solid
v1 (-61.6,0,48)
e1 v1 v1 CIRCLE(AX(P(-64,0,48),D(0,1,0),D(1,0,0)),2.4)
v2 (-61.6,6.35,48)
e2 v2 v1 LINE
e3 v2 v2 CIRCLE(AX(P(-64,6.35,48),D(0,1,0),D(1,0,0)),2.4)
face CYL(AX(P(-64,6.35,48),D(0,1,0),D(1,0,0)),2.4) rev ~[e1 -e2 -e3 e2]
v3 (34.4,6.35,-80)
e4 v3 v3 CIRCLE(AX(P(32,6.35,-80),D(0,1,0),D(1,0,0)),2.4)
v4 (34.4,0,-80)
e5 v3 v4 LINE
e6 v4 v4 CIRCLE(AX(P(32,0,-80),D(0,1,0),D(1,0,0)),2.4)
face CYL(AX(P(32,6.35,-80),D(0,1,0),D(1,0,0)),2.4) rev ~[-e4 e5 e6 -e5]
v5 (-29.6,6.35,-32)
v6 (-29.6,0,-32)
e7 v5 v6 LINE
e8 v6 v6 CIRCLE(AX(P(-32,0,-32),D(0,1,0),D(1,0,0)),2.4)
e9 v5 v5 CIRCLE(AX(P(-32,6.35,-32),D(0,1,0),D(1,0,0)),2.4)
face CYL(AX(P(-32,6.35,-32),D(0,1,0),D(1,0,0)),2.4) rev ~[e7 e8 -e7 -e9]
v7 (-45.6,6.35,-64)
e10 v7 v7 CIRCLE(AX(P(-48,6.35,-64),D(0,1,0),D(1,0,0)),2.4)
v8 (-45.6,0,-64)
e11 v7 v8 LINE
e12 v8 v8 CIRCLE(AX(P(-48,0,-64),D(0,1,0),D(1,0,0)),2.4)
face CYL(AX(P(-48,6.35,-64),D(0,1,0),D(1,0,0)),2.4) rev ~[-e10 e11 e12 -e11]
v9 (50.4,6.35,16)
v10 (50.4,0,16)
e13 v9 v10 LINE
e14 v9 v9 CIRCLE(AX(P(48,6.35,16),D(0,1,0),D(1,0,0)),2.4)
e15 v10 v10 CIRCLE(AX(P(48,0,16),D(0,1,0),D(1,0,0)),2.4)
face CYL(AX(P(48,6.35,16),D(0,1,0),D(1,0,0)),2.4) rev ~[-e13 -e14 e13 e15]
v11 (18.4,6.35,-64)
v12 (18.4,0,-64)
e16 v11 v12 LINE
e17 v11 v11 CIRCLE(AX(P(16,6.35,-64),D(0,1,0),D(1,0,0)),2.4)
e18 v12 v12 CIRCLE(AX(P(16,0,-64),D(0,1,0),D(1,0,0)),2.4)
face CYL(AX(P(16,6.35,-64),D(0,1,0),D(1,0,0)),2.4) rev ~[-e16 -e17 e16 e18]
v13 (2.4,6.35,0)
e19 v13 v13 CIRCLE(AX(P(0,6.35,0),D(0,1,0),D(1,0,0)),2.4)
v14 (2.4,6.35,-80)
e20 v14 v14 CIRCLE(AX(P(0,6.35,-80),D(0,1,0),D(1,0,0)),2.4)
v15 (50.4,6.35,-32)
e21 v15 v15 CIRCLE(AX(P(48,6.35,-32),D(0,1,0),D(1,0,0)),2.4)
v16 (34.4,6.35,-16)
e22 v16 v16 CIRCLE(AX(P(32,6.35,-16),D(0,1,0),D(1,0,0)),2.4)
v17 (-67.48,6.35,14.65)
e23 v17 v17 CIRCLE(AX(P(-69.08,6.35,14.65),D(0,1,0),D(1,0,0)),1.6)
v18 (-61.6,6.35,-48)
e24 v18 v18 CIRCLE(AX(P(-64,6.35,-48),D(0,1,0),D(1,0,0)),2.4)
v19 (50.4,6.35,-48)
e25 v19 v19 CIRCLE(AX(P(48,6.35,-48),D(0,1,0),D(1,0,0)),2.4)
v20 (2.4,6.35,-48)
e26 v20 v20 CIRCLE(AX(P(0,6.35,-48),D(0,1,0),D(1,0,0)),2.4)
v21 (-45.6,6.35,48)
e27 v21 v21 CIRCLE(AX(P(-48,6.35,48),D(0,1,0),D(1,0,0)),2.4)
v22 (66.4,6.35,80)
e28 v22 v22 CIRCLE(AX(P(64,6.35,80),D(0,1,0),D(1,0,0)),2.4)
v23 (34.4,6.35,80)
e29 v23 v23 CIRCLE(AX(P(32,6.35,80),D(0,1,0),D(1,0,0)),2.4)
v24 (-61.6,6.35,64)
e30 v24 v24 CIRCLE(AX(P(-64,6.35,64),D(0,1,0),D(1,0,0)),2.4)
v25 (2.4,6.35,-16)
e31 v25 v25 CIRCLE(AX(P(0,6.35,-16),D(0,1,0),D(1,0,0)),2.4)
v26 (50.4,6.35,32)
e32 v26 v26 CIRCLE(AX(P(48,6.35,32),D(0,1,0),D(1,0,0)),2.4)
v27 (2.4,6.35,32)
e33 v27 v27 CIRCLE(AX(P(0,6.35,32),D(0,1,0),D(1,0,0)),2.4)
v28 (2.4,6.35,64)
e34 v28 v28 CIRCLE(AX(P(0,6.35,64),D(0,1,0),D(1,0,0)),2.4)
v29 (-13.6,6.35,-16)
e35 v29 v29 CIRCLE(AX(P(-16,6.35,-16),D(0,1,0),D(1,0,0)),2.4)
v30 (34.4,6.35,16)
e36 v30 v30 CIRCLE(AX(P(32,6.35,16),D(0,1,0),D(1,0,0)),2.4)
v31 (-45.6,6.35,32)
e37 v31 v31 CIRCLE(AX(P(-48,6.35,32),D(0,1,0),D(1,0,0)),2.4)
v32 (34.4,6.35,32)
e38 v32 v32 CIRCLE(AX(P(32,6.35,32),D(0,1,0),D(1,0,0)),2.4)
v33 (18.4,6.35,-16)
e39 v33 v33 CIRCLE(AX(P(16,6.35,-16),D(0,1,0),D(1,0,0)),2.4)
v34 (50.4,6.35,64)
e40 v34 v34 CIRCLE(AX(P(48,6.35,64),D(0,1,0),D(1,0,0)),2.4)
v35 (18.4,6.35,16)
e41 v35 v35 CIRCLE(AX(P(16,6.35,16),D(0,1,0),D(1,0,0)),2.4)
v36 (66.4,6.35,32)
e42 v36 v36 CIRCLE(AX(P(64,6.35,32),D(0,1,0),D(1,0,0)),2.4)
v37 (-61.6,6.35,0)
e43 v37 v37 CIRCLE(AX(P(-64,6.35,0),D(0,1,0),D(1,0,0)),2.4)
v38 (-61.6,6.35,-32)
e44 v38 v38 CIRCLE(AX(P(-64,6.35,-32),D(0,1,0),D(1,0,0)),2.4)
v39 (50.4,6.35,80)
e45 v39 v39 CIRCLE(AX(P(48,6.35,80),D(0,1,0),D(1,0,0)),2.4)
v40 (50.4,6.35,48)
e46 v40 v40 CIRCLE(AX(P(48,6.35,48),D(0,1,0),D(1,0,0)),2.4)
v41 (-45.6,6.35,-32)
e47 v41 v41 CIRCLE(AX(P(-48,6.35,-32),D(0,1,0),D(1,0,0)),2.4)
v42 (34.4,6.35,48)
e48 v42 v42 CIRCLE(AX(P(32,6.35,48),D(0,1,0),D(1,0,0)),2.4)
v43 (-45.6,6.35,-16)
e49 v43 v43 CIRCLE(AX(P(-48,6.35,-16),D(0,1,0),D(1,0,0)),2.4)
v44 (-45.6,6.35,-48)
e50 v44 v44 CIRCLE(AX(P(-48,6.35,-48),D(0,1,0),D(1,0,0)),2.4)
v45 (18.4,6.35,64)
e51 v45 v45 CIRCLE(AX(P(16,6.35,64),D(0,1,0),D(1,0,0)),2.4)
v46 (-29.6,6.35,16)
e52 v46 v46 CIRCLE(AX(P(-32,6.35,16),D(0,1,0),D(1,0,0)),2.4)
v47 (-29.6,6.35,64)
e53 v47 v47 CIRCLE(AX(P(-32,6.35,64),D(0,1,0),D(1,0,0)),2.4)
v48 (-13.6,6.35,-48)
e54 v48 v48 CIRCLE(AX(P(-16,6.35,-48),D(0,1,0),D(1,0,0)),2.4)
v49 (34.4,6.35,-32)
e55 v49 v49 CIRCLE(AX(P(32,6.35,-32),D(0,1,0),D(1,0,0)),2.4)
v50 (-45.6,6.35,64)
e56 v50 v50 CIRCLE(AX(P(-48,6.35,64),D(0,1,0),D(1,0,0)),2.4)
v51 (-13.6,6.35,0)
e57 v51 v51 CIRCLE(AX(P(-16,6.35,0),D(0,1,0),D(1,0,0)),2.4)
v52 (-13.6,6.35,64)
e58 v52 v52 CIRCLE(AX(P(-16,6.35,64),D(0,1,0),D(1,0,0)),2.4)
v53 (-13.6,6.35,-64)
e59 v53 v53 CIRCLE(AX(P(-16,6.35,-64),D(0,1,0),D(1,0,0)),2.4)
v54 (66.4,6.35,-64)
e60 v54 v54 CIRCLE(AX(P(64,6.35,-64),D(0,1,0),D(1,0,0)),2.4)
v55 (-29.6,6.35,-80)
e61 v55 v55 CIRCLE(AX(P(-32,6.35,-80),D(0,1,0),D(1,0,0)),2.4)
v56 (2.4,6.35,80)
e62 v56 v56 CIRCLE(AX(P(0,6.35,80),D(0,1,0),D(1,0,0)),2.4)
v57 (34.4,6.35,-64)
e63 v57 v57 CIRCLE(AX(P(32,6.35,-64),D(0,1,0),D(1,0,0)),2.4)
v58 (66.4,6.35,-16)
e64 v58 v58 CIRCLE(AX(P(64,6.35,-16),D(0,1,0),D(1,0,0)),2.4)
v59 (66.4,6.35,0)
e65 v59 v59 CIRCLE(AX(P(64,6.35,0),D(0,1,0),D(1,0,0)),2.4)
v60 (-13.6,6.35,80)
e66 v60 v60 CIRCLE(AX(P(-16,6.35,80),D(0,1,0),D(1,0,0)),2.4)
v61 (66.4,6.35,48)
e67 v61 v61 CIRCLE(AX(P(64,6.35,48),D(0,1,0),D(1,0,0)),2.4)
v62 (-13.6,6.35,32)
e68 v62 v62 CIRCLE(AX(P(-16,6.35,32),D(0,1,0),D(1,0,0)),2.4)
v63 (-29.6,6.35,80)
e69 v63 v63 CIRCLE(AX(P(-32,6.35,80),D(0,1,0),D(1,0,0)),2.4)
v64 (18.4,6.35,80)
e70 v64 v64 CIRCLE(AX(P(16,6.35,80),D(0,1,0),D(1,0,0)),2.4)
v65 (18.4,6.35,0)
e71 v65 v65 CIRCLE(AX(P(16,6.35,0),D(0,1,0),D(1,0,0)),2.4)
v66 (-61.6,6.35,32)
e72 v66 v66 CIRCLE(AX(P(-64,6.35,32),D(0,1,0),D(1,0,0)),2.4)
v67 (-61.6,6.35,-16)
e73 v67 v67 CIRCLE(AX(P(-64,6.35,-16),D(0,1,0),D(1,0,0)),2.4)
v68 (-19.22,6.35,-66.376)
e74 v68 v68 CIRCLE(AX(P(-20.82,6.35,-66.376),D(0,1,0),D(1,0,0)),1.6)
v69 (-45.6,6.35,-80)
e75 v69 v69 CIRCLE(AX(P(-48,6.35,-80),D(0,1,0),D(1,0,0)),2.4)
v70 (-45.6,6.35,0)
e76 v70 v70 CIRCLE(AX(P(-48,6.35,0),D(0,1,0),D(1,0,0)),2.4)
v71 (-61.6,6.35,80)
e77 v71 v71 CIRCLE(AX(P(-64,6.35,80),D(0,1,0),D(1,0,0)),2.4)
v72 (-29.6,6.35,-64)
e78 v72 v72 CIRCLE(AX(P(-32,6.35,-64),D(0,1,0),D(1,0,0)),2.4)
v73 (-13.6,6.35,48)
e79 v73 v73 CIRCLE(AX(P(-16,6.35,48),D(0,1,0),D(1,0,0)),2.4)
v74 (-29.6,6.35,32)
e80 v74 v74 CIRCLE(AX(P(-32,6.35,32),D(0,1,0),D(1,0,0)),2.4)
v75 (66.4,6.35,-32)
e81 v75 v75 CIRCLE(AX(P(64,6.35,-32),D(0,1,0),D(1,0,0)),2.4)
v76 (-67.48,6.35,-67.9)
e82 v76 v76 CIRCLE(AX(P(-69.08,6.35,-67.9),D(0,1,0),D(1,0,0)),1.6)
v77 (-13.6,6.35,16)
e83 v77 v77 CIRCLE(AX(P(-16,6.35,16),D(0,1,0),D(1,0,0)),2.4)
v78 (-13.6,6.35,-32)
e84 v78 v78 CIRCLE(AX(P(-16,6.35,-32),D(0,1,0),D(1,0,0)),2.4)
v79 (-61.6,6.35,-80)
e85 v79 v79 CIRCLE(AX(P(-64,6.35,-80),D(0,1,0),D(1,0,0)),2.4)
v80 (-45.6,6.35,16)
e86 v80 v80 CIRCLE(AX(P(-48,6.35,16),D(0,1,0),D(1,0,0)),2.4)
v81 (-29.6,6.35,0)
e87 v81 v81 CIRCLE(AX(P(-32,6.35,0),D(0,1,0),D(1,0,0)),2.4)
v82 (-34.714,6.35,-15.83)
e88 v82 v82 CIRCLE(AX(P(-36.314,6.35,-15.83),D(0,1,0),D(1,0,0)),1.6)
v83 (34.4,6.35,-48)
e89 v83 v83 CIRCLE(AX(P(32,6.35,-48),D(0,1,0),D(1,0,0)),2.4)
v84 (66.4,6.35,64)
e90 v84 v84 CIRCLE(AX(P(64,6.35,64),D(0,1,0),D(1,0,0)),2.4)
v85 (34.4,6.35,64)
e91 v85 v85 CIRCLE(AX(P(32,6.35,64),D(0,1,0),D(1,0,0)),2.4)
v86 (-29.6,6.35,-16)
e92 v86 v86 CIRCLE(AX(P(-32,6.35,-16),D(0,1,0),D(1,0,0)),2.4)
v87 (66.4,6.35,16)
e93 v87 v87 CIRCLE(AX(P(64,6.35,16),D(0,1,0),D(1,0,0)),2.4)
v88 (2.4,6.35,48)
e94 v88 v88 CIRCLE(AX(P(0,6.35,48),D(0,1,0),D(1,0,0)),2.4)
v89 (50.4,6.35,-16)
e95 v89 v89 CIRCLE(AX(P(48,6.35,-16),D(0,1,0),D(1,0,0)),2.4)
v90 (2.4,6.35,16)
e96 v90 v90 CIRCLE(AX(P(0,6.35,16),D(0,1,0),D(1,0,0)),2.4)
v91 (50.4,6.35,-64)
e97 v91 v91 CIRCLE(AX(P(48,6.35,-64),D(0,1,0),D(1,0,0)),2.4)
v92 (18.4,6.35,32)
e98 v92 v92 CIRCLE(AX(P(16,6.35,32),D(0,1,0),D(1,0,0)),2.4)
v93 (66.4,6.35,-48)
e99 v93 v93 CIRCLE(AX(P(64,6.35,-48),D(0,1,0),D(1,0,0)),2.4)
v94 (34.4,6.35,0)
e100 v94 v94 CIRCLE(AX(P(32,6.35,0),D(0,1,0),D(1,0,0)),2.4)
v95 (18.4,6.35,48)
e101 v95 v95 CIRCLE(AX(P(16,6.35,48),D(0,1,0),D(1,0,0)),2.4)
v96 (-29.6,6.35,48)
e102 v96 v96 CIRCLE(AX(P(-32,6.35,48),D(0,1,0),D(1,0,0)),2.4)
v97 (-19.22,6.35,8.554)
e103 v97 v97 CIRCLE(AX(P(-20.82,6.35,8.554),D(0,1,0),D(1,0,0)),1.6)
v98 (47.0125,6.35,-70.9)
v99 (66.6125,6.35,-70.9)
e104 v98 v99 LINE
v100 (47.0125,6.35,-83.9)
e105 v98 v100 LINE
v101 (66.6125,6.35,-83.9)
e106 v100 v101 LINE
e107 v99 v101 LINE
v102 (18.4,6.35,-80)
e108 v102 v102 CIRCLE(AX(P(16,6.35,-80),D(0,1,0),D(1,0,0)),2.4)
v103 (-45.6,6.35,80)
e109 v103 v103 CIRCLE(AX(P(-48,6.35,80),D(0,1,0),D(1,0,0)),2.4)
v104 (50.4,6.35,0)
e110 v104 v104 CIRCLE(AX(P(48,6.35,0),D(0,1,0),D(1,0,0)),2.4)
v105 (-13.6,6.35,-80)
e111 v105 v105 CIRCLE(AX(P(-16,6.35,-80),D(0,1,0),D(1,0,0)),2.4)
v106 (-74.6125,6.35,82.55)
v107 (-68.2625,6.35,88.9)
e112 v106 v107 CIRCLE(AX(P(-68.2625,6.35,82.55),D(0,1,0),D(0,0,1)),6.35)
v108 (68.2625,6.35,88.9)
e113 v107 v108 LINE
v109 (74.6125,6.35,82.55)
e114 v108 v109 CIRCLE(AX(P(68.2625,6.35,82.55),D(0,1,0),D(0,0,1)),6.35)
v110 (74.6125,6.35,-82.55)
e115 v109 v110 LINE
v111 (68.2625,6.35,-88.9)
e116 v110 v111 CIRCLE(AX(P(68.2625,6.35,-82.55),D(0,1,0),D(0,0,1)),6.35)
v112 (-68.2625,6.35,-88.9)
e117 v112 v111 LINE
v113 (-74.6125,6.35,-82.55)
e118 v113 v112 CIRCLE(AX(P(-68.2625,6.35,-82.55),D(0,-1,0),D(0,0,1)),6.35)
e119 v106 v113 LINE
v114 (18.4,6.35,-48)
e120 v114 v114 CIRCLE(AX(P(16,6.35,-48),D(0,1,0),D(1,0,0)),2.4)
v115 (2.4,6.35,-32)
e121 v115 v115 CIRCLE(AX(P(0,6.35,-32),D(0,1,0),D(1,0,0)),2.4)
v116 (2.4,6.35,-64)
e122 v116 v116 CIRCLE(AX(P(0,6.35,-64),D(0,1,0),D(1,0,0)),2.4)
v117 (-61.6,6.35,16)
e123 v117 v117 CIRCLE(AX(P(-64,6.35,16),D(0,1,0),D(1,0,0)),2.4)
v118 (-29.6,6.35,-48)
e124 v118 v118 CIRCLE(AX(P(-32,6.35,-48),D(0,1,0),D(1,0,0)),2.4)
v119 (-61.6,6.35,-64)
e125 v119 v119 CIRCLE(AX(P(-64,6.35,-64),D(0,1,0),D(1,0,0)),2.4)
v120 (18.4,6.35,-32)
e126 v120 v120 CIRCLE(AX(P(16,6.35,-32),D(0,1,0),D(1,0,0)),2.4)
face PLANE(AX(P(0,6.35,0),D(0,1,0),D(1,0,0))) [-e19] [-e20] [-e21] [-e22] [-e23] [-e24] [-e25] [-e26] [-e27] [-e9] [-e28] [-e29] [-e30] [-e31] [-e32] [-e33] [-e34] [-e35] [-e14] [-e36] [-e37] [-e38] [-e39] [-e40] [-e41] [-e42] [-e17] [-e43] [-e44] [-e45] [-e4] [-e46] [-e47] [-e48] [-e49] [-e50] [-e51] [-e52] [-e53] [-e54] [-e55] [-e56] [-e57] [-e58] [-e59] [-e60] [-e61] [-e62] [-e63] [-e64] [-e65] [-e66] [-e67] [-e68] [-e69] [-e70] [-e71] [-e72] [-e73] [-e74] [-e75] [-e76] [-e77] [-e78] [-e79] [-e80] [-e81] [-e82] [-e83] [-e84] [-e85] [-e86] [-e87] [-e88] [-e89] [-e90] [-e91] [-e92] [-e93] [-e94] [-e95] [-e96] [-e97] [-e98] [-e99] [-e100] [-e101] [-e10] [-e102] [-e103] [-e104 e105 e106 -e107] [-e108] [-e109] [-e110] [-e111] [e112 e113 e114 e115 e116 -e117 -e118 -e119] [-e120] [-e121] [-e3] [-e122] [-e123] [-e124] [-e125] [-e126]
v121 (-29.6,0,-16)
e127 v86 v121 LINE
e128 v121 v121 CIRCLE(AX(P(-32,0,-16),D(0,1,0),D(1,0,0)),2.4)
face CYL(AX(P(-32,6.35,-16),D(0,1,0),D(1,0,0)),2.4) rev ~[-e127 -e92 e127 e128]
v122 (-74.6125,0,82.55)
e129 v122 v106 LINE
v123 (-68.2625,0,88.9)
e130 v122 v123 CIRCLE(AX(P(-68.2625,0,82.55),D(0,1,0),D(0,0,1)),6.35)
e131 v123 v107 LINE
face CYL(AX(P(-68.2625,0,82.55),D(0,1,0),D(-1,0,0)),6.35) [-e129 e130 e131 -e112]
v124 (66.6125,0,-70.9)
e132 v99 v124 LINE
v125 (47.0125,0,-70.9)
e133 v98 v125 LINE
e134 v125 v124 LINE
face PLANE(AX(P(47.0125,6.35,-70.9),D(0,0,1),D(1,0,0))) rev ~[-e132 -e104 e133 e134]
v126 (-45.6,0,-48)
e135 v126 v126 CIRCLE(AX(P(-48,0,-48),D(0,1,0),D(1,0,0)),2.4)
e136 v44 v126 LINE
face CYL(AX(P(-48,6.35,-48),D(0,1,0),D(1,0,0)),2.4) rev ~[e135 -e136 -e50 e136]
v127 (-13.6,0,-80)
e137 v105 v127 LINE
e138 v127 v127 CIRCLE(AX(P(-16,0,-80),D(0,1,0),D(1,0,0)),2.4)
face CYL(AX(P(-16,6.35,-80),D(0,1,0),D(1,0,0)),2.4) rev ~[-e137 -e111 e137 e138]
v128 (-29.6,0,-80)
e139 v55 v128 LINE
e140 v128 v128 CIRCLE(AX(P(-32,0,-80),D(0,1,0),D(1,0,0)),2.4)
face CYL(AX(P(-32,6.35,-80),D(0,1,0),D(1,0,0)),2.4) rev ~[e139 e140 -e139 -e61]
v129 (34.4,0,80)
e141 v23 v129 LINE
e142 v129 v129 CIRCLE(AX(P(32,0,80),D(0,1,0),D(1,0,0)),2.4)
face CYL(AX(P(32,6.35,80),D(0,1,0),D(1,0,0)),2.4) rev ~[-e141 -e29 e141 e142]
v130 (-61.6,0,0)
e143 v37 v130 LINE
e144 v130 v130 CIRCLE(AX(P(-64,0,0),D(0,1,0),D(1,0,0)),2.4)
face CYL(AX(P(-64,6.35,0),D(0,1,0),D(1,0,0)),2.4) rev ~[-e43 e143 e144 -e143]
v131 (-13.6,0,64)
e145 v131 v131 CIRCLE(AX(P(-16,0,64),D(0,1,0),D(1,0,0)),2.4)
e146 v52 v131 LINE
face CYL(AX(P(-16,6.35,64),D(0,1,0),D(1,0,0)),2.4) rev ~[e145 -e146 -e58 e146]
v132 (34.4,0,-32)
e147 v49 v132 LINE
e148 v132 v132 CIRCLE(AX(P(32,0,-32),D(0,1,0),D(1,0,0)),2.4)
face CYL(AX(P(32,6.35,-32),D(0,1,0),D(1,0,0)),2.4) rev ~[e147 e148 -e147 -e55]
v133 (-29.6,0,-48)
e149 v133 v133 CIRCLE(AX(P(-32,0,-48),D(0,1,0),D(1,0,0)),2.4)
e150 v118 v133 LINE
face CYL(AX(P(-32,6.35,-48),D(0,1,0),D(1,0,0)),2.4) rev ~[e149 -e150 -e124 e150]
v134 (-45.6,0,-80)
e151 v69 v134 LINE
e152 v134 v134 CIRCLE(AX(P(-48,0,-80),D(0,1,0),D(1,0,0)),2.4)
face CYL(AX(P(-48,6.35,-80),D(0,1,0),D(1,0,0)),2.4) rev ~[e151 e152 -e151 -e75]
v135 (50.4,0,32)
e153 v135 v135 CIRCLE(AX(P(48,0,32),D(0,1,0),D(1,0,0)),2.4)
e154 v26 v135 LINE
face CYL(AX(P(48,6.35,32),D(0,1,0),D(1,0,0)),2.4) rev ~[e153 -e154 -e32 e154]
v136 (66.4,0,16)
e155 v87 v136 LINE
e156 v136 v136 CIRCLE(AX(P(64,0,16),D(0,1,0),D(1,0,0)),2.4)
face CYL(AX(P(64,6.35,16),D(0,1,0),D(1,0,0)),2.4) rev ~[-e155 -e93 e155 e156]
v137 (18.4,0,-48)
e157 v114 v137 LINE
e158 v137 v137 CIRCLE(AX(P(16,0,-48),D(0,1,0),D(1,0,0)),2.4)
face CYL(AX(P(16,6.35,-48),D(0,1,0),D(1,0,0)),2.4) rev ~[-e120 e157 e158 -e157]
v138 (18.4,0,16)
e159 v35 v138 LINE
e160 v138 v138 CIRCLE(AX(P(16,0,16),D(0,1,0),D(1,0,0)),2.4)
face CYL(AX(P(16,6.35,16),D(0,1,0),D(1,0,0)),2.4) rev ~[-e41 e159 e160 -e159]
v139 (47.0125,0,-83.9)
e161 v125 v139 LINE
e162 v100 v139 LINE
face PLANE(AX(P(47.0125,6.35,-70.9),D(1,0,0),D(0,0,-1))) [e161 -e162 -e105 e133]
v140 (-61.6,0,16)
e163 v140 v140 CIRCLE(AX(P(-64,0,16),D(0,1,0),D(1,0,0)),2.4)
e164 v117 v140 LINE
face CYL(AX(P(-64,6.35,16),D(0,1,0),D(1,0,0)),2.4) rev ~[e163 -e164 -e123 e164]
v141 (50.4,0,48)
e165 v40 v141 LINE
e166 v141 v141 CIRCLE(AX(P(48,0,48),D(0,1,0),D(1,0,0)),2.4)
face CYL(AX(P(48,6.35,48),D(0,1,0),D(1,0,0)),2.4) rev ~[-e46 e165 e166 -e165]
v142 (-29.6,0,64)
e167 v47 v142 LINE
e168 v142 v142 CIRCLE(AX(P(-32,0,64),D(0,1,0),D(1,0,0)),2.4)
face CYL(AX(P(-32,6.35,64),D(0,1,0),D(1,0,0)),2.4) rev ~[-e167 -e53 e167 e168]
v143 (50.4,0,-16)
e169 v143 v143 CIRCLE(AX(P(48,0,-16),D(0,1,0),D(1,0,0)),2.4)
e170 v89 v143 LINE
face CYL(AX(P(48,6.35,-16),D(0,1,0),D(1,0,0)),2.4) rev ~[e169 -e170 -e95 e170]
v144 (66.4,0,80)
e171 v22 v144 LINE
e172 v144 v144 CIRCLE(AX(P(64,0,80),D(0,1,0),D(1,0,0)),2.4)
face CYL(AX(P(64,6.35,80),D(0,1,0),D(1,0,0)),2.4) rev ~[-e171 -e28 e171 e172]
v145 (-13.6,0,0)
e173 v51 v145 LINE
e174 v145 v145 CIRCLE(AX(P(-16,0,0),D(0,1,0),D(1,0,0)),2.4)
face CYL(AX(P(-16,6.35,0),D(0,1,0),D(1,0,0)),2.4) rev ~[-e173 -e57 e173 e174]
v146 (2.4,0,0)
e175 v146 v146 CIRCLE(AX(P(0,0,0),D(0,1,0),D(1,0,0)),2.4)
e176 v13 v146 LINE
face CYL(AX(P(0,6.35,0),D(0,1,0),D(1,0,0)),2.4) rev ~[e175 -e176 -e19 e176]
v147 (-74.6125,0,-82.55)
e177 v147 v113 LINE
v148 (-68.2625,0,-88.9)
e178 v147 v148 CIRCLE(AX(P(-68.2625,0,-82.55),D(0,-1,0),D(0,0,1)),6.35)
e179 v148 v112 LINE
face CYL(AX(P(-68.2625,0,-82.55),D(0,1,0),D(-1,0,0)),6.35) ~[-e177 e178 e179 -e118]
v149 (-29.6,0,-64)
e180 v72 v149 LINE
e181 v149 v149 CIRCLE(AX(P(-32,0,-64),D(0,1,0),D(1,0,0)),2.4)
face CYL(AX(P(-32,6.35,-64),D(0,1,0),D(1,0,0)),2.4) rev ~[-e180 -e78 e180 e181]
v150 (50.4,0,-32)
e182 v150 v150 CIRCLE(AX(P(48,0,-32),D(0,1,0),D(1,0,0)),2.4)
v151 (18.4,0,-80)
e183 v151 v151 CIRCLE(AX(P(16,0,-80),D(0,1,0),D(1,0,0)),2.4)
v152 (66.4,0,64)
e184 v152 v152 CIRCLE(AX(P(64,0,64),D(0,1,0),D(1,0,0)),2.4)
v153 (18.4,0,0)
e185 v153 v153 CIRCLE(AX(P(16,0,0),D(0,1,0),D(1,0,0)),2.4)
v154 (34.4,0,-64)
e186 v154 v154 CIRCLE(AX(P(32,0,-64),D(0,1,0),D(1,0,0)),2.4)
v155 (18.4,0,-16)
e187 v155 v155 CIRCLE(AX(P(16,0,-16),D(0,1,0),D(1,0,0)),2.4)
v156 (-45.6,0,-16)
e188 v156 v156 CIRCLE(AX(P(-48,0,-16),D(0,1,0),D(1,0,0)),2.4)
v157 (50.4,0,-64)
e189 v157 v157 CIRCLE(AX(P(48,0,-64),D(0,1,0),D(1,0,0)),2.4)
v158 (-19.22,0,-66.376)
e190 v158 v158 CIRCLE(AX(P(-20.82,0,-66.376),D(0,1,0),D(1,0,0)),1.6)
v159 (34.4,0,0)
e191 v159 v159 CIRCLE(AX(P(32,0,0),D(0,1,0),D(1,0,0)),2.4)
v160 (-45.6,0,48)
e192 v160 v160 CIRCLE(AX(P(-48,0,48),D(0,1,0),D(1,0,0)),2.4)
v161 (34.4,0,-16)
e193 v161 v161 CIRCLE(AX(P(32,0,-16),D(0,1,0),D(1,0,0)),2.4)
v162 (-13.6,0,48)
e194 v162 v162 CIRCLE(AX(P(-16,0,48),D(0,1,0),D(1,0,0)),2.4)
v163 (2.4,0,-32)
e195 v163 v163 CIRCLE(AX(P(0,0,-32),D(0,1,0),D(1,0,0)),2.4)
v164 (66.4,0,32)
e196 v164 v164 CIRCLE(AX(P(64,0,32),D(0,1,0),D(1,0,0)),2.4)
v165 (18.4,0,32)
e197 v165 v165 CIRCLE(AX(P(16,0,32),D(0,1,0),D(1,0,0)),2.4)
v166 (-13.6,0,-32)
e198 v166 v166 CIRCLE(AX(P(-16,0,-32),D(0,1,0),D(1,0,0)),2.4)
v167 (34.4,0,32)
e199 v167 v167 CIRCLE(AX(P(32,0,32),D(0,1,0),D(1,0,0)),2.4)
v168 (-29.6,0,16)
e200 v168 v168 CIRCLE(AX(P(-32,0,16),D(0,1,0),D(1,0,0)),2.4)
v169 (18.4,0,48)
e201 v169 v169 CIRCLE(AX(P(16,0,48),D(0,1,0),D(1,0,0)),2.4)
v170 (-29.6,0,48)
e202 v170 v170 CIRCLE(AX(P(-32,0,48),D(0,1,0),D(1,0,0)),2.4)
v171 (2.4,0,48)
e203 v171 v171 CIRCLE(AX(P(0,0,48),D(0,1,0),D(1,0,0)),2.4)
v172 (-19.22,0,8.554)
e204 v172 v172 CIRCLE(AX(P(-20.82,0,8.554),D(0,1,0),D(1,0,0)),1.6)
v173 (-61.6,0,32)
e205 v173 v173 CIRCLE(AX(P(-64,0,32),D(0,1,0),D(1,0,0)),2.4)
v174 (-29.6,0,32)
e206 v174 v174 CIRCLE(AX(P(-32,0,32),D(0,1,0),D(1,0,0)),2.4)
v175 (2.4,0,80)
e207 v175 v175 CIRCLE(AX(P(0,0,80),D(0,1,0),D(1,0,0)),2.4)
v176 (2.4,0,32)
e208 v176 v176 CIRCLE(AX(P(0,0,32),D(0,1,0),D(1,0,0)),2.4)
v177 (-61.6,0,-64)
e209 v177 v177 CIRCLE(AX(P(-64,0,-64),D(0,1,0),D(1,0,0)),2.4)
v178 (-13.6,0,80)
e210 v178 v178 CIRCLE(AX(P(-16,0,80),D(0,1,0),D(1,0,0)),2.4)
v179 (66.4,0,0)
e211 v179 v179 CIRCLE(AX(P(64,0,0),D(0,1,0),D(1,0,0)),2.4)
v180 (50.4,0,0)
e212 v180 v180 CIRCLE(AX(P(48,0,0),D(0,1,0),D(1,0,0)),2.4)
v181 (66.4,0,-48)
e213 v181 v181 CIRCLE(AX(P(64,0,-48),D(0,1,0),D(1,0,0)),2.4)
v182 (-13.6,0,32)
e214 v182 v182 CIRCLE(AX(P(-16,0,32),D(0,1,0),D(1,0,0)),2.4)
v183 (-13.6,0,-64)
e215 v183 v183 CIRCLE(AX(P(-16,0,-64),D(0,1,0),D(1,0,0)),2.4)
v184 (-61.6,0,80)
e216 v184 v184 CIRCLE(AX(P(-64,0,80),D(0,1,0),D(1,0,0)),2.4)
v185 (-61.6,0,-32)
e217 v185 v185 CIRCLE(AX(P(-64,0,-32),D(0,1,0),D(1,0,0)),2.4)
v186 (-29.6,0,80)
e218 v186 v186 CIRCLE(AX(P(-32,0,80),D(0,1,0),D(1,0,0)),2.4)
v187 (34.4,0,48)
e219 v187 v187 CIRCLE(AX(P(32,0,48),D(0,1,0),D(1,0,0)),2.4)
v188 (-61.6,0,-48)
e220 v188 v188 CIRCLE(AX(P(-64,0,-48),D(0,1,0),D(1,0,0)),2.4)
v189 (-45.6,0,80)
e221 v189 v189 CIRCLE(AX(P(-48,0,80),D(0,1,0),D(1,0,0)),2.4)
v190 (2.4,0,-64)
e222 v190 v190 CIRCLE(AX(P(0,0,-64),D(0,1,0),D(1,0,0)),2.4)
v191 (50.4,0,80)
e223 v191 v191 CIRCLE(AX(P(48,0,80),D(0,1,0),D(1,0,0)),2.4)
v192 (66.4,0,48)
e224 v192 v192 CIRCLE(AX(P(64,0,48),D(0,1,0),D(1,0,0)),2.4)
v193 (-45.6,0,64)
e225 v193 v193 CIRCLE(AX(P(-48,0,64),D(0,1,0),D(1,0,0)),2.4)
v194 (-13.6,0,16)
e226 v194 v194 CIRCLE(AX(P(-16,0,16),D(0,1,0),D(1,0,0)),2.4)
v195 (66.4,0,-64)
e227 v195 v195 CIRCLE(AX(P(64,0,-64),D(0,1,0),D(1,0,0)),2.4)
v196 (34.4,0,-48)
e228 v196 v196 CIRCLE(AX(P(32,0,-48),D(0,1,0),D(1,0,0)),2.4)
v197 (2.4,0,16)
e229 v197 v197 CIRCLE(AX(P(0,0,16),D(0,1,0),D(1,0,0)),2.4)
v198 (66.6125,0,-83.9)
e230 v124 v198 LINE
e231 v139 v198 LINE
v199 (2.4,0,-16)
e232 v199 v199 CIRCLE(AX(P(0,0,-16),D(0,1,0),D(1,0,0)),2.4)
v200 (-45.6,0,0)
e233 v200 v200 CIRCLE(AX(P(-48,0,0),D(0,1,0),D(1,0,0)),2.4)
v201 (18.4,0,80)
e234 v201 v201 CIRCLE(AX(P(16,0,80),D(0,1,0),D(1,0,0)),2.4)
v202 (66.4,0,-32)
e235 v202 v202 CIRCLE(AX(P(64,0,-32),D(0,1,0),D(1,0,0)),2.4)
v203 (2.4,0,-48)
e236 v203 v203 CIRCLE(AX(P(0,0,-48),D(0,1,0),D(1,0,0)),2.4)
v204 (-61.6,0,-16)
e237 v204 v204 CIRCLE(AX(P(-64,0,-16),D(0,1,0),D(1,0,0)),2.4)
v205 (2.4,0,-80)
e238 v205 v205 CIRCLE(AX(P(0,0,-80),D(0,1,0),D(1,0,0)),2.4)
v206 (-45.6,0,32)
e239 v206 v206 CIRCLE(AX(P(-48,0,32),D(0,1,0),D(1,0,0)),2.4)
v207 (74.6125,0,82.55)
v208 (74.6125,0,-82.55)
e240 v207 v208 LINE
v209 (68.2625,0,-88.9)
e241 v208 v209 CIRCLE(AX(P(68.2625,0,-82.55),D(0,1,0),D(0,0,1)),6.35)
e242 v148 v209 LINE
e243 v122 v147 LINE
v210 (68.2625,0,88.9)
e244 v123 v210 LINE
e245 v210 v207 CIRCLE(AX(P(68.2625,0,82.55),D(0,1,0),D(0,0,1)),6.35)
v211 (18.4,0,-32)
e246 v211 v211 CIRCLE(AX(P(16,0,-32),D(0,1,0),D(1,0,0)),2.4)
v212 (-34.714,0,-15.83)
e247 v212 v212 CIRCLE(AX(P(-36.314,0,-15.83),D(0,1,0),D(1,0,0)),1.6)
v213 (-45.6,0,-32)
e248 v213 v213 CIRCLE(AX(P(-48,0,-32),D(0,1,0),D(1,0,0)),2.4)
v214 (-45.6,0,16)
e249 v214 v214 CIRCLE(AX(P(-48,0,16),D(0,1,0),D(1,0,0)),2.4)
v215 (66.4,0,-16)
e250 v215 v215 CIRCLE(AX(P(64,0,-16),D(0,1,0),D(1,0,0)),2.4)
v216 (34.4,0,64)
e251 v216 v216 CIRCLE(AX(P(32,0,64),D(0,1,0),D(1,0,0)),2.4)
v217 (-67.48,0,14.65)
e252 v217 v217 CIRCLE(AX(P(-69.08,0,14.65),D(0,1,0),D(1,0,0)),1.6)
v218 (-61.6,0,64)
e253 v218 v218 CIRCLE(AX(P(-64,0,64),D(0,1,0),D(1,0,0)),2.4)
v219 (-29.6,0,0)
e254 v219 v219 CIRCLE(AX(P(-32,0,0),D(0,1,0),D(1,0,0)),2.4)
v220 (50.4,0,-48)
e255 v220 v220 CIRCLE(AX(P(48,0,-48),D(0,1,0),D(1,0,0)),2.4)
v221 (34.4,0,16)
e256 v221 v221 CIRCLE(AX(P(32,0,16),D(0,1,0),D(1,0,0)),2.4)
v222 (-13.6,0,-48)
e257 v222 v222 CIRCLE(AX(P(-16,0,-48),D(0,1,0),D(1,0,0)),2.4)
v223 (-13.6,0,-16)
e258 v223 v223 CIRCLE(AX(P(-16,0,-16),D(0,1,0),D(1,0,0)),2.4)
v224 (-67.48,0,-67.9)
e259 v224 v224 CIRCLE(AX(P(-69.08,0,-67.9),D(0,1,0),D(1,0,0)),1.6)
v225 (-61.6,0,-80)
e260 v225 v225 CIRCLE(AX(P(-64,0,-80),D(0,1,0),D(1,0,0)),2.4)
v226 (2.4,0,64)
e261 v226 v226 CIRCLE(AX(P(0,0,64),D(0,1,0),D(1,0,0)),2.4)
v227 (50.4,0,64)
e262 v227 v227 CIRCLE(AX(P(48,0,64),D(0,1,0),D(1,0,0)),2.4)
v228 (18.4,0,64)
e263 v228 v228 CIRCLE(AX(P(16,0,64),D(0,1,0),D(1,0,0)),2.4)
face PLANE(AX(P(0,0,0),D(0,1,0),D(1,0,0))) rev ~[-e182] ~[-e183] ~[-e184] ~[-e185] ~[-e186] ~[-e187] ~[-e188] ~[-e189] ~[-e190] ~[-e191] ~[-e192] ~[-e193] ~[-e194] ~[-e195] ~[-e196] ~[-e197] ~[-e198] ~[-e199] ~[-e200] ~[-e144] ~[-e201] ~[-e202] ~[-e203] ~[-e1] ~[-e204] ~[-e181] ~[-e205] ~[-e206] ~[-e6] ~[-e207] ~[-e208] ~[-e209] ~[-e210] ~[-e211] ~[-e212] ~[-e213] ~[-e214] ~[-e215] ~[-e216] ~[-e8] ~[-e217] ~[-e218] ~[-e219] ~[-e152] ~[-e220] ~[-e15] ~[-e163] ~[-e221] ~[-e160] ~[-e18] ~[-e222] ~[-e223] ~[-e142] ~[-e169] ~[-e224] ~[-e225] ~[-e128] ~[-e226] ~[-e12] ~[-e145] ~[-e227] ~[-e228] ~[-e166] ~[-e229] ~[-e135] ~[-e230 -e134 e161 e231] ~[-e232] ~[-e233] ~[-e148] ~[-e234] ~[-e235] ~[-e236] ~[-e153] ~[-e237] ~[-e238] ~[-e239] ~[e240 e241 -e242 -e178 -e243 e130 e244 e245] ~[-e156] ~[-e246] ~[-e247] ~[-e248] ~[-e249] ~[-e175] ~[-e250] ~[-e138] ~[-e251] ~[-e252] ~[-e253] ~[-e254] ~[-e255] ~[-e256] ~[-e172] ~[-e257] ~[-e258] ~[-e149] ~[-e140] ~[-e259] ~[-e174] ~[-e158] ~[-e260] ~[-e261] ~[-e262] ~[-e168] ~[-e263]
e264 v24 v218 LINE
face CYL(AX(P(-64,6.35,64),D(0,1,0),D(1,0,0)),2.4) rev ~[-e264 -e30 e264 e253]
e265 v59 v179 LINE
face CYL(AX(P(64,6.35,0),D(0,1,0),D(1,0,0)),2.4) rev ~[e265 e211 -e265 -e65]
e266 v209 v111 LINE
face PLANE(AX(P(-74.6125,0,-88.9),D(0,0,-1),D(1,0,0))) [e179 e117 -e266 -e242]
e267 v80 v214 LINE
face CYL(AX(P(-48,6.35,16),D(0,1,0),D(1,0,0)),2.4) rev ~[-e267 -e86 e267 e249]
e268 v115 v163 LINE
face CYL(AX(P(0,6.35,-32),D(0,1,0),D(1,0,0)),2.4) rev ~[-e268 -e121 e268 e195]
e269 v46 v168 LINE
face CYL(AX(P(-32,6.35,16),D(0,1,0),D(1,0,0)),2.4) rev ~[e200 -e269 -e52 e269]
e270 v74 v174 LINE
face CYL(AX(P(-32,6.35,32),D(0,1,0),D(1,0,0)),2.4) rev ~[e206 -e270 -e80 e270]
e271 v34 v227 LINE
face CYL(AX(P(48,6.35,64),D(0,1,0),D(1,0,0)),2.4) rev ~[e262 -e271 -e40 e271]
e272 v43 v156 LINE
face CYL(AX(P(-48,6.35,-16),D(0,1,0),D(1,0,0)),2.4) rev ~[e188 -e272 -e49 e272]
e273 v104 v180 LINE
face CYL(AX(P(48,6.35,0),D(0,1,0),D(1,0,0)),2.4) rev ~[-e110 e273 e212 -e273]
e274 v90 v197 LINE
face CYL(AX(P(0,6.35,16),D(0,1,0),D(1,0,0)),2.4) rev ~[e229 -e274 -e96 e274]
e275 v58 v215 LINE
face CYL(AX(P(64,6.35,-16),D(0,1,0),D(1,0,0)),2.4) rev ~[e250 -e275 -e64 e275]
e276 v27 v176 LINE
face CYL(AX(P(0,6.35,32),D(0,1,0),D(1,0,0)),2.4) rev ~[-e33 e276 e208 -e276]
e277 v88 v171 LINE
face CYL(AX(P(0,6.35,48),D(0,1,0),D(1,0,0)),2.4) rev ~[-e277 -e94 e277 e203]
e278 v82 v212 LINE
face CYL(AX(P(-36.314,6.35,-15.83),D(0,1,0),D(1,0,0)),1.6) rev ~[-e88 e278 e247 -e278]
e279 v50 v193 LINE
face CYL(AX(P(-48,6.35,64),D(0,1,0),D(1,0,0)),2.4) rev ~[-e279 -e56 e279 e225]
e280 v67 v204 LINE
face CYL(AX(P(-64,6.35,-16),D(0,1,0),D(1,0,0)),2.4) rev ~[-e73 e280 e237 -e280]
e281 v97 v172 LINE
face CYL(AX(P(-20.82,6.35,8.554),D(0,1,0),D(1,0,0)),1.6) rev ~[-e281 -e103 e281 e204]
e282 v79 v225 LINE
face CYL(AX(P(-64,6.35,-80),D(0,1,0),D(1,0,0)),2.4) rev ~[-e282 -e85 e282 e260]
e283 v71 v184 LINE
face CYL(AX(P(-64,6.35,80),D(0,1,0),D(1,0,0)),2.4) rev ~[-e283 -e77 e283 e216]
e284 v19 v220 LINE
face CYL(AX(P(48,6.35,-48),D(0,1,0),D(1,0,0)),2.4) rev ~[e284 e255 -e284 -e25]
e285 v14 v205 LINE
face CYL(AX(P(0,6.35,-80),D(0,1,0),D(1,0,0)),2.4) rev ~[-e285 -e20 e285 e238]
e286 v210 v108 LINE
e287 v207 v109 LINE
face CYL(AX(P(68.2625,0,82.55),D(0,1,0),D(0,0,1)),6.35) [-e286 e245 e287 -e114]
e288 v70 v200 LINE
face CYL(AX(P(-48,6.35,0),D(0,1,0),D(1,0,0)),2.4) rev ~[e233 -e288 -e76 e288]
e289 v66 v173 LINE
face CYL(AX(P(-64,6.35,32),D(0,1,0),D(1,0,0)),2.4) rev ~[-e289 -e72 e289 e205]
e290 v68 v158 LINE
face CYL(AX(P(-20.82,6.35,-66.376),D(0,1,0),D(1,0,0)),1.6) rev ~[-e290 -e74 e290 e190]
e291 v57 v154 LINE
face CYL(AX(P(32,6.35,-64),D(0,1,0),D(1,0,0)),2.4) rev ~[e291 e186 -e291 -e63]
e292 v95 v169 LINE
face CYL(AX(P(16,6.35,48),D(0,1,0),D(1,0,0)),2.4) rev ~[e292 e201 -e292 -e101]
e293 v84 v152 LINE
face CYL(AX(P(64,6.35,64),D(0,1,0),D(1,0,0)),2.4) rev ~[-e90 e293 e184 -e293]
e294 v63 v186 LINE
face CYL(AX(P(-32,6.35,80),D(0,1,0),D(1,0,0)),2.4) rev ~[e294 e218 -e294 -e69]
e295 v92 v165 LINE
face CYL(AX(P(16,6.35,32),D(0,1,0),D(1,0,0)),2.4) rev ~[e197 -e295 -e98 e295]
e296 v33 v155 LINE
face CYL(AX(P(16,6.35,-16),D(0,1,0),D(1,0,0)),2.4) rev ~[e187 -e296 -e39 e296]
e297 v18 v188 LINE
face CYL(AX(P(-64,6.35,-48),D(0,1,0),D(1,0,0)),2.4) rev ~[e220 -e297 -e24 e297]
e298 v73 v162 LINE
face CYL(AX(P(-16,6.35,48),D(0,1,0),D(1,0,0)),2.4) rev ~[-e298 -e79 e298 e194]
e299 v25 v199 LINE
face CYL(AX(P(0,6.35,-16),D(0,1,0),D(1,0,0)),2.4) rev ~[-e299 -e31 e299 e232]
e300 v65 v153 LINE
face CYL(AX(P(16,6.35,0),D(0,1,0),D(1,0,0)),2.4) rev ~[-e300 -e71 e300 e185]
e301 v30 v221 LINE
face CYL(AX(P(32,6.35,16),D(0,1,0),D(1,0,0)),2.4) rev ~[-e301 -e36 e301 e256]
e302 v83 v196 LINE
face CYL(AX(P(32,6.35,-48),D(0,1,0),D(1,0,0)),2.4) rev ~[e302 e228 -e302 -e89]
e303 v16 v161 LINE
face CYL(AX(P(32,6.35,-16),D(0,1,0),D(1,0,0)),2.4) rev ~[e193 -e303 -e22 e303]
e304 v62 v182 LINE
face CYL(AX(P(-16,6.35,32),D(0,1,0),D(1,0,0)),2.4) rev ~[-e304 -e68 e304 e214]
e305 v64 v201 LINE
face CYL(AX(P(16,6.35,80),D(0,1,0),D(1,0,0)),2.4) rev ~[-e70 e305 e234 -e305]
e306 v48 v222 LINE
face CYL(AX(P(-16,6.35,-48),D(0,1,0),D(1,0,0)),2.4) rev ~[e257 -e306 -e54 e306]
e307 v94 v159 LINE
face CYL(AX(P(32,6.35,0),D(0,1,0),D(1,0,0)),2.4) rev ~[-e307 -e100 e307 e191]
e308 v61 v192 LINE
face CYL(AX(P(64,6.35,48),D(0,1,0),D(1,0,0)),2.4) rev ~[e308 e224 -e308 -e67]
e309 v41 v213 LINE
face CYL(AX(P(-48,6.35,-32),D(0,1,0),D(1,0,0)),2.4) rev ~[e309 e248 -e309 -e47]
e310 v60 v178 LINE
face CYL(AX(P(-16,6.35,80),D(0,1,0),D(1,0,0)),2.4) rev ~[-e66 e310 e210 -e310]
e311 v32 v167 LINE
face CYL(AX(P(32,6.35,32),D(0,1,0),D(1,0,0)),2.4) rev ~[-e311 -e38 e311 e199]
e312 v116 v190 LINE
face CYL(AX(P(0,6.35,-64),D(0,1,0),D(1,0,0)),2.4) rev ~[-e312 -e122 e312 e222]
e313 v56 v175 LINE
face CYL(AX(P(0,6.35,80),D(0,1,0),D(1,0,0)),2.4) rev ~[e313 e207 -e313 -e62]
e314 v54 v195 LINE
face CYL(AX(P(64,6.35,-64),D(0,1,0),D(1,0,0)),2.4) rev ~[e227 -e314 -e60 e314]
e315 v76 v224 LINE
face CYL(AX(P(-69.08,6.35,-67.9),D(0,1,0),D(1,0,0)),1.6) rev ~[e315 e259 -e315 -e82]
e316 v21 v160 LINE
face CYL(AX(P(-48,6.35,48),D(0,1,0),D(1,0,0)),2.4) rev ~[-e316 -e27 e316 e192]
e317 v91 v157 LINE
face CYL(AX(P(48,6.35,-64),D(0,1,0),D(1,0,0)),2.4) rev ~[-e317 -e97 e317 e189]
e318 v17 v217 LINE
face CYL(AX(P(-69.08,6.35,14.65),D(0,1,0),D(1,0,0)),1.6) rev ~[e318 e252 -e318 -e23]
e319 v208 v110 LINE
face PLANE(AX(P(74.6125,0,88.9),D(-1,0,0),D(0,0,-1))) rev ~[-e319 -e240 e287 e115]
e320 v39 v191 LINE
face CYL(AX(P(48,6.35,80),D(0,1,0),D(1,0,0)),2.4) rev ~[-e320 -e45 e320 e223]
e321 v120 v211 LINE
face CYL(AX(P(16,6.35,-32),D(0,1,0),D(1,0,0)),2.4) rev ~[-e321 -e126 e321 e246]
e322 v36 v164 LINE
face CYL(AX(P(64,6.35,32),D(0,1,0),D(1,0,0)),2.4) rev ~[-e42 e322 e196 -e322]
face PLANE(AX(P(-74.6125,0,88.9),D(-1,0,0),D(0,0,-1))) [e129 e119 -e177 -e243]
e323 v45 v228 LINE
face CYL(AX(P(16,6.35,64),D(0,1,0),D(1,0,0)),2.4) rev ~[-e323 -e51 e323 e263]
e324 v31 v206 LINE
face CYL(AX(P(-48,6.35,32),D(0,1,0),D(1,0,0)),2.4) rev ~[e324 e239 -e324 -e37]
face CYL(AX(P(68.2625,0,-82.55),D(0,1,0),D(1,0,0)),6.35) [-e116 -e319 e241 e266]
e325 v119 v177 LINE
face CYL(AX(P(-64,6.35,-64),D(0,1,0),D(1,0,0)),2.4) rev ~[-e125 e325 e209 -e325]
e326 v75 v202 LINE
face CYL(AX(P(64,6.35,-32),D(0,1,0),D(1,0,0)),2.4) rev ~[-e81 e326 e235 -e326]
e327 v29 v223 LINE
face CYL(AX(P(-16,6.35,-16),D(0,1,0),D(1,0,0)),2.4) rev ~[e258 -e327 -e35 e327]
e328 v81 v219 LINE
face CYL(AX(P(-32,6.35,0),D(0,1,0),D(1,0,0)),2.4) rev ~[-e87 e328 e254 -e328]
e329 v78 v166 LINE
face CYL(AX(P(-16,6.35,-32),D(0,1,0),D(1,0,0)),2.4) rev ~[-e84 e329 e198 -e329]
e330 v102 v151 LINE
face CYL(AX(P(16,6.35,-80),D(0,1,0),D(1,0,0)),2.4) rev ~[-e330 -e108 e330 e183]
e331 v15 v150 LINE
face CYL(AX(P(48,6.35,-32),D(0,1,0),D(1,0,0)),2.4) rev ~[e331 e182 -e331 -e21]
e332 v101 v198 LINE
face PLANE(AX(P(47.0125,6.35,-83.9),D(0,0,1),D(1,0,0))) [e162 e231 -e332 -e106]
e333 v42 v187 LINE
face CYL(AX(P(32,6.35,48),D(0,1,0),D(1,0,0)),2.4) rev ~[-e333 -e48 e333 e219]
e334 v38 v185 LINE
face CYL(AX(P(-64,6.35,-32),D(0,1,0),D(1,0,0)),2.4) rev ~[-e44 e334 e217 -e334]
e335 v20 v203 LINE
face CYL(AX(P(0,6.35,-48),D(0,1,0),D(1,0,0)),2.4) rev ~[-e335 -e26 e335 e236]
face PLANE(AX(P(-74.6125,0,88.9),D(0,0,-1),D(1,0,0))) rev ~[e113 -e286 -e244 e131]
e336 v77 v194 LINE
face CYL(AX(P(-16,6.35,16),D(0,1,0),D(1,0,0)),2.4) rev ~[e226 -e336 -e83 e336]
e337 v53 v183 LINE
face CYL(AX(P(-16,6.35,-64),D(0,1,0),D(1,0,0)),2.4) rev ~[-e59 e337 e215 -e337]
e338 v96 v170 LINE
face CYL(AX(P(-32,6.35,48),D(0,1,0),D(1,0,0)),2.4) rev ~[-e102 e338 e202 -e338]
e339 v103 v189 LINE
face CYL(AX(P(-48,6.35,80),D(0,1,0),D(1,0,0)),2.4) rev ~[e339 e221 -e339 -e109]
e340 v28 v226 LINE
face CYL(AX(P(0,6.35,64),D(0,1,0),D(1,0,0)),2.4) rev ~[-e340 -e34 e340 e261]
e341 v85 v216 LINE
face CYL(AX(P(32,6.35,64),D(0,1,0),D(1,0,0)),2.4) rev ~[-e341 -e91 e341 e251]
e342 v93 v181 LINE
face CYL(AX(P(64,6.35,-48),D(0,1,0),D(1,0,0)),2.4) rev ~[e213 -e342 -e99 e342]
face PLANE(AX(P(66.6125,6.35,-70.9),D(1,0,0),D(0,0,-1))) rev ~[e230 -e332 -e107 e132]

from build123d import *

# Parameters (mm, degrees)
SKETCH2_W            = 149.225
SKETCH2_H            = 177.8
BOSS_EXTRUDE1_DEPTH  = 6.35
FILLET1_R            = 6.35
SKETCH3_R            = 2.4
CUT_EXTRUDE2_DEPTH   = 7.35
LPATTERN2_COUNT      = 9
LPATTERN2_PITCH      = 16
LPATTERN2_COUNT_DIR2 = 11
LPATTERN2_PITCH_DIR2 = 16
SKETCH4_R            = 1.6
MOUNTING_HOLES_DEPTH = 7.35
SKETCH5_W            = 19.6
SKETCH5_H            = 13
SWITCH_CUTOUT_DEPTH  = 7.35


with BuildPart() as part:
    # Sketch2 → Boss-Extrude1 (new body)
    with BuildSketch(Plane(origin=(0, 0, 0), x_dir=(1, 0, 0), z_dir=(0, 1, 0))):
        Rectangle(SKETCH2_W, SKETCH2_H)
    extrude(amount=BOSS_EXTRUDE1_DEPTH)

    # Fillet1
    fillet1_edges = [part.edges().sort_by_distance(p)[0] for p in [
        (74.6125, 3.175, 88.9),
        (-74.6125, 3.175, 88.9),
        (-74.6125, 3.175, -88.9),
        (74.6125, 3.175, -88.9),
    ]]
    fillet(fillet1_edges, radius=FILLET1_R)

    # Sketch3 → Cut-Extrude2 (cut, through all)
    with BuildSketch(Plane(origin=(0, 6.35, 0), x_dir=(1, 0, 0), z_dir=(0, 1, 0))):
        with Locations((-64, 80)):
            Circle(SKETCH3_R)
    cut_extrude2 = extrude(amount=-CUT_EXTRUDE2_DEPTH, mode=Mode.SUBTRACT)

    # LPattern2: Cut-Extrude2 9 × 11, 2 skipped
    with Locations(*[(i * LPATTERN2_PITCH, 0, j * LPATTERN2_PITCH_DIR2) for i in range(LPATTERN2_COUNT) for j in range(LPATTERN2_COUNT_DIR2) if (i, j) not in ((0, 0), (7, 0), (8, 0))]):
        add(cut_extrude2, mode=Mode.SUBTRACT)

    # Sketch4 → MOUNTING_HOLES (cut, through all)
    with BuildSketch(Plane(origin=(0, 6.35, 0), x_dir=(1, 0, 0), z_dir=(0, 1, 0))):
        with Locations((-69.08, 67.9)):
            Circle(SKETCH4_R)
        with Locations((-20.82, 66.376)):
            Circle(SKETCH4_R)
        with Locations((-20.82, -8.554)):
            Circle(SKETCH4_R)
        with Locations((-69.08, -14.65)):
            Circle(SKETCH4_R)
        with Locations((-64, 15.83)):
            Circle(SKETCH4_R)
        with Locations((-36.314, 15.83)):
            Circle(SKETCH4_R)
    extrude(amount=-MOUNTING_HOLES_DEPTH, mode=Mode.SUBTRACT)

    # Sketch5 → SWITCH_CUTOUT (cut, through all)
    with BuildSketch(Plane(origin=(0, 6.35, 0), x_dir=(1, 0, 0), z_dir=(0, 1, 0))):
        with Locations((56.8125, 77.4)):
            Rectangle(SKETCH5_W, SKETCH5_H)
    extrude(amount=-SWITCH_CUTOUT_DEPTH, mode=Mode.SUBTRACT)


solid = part.part
